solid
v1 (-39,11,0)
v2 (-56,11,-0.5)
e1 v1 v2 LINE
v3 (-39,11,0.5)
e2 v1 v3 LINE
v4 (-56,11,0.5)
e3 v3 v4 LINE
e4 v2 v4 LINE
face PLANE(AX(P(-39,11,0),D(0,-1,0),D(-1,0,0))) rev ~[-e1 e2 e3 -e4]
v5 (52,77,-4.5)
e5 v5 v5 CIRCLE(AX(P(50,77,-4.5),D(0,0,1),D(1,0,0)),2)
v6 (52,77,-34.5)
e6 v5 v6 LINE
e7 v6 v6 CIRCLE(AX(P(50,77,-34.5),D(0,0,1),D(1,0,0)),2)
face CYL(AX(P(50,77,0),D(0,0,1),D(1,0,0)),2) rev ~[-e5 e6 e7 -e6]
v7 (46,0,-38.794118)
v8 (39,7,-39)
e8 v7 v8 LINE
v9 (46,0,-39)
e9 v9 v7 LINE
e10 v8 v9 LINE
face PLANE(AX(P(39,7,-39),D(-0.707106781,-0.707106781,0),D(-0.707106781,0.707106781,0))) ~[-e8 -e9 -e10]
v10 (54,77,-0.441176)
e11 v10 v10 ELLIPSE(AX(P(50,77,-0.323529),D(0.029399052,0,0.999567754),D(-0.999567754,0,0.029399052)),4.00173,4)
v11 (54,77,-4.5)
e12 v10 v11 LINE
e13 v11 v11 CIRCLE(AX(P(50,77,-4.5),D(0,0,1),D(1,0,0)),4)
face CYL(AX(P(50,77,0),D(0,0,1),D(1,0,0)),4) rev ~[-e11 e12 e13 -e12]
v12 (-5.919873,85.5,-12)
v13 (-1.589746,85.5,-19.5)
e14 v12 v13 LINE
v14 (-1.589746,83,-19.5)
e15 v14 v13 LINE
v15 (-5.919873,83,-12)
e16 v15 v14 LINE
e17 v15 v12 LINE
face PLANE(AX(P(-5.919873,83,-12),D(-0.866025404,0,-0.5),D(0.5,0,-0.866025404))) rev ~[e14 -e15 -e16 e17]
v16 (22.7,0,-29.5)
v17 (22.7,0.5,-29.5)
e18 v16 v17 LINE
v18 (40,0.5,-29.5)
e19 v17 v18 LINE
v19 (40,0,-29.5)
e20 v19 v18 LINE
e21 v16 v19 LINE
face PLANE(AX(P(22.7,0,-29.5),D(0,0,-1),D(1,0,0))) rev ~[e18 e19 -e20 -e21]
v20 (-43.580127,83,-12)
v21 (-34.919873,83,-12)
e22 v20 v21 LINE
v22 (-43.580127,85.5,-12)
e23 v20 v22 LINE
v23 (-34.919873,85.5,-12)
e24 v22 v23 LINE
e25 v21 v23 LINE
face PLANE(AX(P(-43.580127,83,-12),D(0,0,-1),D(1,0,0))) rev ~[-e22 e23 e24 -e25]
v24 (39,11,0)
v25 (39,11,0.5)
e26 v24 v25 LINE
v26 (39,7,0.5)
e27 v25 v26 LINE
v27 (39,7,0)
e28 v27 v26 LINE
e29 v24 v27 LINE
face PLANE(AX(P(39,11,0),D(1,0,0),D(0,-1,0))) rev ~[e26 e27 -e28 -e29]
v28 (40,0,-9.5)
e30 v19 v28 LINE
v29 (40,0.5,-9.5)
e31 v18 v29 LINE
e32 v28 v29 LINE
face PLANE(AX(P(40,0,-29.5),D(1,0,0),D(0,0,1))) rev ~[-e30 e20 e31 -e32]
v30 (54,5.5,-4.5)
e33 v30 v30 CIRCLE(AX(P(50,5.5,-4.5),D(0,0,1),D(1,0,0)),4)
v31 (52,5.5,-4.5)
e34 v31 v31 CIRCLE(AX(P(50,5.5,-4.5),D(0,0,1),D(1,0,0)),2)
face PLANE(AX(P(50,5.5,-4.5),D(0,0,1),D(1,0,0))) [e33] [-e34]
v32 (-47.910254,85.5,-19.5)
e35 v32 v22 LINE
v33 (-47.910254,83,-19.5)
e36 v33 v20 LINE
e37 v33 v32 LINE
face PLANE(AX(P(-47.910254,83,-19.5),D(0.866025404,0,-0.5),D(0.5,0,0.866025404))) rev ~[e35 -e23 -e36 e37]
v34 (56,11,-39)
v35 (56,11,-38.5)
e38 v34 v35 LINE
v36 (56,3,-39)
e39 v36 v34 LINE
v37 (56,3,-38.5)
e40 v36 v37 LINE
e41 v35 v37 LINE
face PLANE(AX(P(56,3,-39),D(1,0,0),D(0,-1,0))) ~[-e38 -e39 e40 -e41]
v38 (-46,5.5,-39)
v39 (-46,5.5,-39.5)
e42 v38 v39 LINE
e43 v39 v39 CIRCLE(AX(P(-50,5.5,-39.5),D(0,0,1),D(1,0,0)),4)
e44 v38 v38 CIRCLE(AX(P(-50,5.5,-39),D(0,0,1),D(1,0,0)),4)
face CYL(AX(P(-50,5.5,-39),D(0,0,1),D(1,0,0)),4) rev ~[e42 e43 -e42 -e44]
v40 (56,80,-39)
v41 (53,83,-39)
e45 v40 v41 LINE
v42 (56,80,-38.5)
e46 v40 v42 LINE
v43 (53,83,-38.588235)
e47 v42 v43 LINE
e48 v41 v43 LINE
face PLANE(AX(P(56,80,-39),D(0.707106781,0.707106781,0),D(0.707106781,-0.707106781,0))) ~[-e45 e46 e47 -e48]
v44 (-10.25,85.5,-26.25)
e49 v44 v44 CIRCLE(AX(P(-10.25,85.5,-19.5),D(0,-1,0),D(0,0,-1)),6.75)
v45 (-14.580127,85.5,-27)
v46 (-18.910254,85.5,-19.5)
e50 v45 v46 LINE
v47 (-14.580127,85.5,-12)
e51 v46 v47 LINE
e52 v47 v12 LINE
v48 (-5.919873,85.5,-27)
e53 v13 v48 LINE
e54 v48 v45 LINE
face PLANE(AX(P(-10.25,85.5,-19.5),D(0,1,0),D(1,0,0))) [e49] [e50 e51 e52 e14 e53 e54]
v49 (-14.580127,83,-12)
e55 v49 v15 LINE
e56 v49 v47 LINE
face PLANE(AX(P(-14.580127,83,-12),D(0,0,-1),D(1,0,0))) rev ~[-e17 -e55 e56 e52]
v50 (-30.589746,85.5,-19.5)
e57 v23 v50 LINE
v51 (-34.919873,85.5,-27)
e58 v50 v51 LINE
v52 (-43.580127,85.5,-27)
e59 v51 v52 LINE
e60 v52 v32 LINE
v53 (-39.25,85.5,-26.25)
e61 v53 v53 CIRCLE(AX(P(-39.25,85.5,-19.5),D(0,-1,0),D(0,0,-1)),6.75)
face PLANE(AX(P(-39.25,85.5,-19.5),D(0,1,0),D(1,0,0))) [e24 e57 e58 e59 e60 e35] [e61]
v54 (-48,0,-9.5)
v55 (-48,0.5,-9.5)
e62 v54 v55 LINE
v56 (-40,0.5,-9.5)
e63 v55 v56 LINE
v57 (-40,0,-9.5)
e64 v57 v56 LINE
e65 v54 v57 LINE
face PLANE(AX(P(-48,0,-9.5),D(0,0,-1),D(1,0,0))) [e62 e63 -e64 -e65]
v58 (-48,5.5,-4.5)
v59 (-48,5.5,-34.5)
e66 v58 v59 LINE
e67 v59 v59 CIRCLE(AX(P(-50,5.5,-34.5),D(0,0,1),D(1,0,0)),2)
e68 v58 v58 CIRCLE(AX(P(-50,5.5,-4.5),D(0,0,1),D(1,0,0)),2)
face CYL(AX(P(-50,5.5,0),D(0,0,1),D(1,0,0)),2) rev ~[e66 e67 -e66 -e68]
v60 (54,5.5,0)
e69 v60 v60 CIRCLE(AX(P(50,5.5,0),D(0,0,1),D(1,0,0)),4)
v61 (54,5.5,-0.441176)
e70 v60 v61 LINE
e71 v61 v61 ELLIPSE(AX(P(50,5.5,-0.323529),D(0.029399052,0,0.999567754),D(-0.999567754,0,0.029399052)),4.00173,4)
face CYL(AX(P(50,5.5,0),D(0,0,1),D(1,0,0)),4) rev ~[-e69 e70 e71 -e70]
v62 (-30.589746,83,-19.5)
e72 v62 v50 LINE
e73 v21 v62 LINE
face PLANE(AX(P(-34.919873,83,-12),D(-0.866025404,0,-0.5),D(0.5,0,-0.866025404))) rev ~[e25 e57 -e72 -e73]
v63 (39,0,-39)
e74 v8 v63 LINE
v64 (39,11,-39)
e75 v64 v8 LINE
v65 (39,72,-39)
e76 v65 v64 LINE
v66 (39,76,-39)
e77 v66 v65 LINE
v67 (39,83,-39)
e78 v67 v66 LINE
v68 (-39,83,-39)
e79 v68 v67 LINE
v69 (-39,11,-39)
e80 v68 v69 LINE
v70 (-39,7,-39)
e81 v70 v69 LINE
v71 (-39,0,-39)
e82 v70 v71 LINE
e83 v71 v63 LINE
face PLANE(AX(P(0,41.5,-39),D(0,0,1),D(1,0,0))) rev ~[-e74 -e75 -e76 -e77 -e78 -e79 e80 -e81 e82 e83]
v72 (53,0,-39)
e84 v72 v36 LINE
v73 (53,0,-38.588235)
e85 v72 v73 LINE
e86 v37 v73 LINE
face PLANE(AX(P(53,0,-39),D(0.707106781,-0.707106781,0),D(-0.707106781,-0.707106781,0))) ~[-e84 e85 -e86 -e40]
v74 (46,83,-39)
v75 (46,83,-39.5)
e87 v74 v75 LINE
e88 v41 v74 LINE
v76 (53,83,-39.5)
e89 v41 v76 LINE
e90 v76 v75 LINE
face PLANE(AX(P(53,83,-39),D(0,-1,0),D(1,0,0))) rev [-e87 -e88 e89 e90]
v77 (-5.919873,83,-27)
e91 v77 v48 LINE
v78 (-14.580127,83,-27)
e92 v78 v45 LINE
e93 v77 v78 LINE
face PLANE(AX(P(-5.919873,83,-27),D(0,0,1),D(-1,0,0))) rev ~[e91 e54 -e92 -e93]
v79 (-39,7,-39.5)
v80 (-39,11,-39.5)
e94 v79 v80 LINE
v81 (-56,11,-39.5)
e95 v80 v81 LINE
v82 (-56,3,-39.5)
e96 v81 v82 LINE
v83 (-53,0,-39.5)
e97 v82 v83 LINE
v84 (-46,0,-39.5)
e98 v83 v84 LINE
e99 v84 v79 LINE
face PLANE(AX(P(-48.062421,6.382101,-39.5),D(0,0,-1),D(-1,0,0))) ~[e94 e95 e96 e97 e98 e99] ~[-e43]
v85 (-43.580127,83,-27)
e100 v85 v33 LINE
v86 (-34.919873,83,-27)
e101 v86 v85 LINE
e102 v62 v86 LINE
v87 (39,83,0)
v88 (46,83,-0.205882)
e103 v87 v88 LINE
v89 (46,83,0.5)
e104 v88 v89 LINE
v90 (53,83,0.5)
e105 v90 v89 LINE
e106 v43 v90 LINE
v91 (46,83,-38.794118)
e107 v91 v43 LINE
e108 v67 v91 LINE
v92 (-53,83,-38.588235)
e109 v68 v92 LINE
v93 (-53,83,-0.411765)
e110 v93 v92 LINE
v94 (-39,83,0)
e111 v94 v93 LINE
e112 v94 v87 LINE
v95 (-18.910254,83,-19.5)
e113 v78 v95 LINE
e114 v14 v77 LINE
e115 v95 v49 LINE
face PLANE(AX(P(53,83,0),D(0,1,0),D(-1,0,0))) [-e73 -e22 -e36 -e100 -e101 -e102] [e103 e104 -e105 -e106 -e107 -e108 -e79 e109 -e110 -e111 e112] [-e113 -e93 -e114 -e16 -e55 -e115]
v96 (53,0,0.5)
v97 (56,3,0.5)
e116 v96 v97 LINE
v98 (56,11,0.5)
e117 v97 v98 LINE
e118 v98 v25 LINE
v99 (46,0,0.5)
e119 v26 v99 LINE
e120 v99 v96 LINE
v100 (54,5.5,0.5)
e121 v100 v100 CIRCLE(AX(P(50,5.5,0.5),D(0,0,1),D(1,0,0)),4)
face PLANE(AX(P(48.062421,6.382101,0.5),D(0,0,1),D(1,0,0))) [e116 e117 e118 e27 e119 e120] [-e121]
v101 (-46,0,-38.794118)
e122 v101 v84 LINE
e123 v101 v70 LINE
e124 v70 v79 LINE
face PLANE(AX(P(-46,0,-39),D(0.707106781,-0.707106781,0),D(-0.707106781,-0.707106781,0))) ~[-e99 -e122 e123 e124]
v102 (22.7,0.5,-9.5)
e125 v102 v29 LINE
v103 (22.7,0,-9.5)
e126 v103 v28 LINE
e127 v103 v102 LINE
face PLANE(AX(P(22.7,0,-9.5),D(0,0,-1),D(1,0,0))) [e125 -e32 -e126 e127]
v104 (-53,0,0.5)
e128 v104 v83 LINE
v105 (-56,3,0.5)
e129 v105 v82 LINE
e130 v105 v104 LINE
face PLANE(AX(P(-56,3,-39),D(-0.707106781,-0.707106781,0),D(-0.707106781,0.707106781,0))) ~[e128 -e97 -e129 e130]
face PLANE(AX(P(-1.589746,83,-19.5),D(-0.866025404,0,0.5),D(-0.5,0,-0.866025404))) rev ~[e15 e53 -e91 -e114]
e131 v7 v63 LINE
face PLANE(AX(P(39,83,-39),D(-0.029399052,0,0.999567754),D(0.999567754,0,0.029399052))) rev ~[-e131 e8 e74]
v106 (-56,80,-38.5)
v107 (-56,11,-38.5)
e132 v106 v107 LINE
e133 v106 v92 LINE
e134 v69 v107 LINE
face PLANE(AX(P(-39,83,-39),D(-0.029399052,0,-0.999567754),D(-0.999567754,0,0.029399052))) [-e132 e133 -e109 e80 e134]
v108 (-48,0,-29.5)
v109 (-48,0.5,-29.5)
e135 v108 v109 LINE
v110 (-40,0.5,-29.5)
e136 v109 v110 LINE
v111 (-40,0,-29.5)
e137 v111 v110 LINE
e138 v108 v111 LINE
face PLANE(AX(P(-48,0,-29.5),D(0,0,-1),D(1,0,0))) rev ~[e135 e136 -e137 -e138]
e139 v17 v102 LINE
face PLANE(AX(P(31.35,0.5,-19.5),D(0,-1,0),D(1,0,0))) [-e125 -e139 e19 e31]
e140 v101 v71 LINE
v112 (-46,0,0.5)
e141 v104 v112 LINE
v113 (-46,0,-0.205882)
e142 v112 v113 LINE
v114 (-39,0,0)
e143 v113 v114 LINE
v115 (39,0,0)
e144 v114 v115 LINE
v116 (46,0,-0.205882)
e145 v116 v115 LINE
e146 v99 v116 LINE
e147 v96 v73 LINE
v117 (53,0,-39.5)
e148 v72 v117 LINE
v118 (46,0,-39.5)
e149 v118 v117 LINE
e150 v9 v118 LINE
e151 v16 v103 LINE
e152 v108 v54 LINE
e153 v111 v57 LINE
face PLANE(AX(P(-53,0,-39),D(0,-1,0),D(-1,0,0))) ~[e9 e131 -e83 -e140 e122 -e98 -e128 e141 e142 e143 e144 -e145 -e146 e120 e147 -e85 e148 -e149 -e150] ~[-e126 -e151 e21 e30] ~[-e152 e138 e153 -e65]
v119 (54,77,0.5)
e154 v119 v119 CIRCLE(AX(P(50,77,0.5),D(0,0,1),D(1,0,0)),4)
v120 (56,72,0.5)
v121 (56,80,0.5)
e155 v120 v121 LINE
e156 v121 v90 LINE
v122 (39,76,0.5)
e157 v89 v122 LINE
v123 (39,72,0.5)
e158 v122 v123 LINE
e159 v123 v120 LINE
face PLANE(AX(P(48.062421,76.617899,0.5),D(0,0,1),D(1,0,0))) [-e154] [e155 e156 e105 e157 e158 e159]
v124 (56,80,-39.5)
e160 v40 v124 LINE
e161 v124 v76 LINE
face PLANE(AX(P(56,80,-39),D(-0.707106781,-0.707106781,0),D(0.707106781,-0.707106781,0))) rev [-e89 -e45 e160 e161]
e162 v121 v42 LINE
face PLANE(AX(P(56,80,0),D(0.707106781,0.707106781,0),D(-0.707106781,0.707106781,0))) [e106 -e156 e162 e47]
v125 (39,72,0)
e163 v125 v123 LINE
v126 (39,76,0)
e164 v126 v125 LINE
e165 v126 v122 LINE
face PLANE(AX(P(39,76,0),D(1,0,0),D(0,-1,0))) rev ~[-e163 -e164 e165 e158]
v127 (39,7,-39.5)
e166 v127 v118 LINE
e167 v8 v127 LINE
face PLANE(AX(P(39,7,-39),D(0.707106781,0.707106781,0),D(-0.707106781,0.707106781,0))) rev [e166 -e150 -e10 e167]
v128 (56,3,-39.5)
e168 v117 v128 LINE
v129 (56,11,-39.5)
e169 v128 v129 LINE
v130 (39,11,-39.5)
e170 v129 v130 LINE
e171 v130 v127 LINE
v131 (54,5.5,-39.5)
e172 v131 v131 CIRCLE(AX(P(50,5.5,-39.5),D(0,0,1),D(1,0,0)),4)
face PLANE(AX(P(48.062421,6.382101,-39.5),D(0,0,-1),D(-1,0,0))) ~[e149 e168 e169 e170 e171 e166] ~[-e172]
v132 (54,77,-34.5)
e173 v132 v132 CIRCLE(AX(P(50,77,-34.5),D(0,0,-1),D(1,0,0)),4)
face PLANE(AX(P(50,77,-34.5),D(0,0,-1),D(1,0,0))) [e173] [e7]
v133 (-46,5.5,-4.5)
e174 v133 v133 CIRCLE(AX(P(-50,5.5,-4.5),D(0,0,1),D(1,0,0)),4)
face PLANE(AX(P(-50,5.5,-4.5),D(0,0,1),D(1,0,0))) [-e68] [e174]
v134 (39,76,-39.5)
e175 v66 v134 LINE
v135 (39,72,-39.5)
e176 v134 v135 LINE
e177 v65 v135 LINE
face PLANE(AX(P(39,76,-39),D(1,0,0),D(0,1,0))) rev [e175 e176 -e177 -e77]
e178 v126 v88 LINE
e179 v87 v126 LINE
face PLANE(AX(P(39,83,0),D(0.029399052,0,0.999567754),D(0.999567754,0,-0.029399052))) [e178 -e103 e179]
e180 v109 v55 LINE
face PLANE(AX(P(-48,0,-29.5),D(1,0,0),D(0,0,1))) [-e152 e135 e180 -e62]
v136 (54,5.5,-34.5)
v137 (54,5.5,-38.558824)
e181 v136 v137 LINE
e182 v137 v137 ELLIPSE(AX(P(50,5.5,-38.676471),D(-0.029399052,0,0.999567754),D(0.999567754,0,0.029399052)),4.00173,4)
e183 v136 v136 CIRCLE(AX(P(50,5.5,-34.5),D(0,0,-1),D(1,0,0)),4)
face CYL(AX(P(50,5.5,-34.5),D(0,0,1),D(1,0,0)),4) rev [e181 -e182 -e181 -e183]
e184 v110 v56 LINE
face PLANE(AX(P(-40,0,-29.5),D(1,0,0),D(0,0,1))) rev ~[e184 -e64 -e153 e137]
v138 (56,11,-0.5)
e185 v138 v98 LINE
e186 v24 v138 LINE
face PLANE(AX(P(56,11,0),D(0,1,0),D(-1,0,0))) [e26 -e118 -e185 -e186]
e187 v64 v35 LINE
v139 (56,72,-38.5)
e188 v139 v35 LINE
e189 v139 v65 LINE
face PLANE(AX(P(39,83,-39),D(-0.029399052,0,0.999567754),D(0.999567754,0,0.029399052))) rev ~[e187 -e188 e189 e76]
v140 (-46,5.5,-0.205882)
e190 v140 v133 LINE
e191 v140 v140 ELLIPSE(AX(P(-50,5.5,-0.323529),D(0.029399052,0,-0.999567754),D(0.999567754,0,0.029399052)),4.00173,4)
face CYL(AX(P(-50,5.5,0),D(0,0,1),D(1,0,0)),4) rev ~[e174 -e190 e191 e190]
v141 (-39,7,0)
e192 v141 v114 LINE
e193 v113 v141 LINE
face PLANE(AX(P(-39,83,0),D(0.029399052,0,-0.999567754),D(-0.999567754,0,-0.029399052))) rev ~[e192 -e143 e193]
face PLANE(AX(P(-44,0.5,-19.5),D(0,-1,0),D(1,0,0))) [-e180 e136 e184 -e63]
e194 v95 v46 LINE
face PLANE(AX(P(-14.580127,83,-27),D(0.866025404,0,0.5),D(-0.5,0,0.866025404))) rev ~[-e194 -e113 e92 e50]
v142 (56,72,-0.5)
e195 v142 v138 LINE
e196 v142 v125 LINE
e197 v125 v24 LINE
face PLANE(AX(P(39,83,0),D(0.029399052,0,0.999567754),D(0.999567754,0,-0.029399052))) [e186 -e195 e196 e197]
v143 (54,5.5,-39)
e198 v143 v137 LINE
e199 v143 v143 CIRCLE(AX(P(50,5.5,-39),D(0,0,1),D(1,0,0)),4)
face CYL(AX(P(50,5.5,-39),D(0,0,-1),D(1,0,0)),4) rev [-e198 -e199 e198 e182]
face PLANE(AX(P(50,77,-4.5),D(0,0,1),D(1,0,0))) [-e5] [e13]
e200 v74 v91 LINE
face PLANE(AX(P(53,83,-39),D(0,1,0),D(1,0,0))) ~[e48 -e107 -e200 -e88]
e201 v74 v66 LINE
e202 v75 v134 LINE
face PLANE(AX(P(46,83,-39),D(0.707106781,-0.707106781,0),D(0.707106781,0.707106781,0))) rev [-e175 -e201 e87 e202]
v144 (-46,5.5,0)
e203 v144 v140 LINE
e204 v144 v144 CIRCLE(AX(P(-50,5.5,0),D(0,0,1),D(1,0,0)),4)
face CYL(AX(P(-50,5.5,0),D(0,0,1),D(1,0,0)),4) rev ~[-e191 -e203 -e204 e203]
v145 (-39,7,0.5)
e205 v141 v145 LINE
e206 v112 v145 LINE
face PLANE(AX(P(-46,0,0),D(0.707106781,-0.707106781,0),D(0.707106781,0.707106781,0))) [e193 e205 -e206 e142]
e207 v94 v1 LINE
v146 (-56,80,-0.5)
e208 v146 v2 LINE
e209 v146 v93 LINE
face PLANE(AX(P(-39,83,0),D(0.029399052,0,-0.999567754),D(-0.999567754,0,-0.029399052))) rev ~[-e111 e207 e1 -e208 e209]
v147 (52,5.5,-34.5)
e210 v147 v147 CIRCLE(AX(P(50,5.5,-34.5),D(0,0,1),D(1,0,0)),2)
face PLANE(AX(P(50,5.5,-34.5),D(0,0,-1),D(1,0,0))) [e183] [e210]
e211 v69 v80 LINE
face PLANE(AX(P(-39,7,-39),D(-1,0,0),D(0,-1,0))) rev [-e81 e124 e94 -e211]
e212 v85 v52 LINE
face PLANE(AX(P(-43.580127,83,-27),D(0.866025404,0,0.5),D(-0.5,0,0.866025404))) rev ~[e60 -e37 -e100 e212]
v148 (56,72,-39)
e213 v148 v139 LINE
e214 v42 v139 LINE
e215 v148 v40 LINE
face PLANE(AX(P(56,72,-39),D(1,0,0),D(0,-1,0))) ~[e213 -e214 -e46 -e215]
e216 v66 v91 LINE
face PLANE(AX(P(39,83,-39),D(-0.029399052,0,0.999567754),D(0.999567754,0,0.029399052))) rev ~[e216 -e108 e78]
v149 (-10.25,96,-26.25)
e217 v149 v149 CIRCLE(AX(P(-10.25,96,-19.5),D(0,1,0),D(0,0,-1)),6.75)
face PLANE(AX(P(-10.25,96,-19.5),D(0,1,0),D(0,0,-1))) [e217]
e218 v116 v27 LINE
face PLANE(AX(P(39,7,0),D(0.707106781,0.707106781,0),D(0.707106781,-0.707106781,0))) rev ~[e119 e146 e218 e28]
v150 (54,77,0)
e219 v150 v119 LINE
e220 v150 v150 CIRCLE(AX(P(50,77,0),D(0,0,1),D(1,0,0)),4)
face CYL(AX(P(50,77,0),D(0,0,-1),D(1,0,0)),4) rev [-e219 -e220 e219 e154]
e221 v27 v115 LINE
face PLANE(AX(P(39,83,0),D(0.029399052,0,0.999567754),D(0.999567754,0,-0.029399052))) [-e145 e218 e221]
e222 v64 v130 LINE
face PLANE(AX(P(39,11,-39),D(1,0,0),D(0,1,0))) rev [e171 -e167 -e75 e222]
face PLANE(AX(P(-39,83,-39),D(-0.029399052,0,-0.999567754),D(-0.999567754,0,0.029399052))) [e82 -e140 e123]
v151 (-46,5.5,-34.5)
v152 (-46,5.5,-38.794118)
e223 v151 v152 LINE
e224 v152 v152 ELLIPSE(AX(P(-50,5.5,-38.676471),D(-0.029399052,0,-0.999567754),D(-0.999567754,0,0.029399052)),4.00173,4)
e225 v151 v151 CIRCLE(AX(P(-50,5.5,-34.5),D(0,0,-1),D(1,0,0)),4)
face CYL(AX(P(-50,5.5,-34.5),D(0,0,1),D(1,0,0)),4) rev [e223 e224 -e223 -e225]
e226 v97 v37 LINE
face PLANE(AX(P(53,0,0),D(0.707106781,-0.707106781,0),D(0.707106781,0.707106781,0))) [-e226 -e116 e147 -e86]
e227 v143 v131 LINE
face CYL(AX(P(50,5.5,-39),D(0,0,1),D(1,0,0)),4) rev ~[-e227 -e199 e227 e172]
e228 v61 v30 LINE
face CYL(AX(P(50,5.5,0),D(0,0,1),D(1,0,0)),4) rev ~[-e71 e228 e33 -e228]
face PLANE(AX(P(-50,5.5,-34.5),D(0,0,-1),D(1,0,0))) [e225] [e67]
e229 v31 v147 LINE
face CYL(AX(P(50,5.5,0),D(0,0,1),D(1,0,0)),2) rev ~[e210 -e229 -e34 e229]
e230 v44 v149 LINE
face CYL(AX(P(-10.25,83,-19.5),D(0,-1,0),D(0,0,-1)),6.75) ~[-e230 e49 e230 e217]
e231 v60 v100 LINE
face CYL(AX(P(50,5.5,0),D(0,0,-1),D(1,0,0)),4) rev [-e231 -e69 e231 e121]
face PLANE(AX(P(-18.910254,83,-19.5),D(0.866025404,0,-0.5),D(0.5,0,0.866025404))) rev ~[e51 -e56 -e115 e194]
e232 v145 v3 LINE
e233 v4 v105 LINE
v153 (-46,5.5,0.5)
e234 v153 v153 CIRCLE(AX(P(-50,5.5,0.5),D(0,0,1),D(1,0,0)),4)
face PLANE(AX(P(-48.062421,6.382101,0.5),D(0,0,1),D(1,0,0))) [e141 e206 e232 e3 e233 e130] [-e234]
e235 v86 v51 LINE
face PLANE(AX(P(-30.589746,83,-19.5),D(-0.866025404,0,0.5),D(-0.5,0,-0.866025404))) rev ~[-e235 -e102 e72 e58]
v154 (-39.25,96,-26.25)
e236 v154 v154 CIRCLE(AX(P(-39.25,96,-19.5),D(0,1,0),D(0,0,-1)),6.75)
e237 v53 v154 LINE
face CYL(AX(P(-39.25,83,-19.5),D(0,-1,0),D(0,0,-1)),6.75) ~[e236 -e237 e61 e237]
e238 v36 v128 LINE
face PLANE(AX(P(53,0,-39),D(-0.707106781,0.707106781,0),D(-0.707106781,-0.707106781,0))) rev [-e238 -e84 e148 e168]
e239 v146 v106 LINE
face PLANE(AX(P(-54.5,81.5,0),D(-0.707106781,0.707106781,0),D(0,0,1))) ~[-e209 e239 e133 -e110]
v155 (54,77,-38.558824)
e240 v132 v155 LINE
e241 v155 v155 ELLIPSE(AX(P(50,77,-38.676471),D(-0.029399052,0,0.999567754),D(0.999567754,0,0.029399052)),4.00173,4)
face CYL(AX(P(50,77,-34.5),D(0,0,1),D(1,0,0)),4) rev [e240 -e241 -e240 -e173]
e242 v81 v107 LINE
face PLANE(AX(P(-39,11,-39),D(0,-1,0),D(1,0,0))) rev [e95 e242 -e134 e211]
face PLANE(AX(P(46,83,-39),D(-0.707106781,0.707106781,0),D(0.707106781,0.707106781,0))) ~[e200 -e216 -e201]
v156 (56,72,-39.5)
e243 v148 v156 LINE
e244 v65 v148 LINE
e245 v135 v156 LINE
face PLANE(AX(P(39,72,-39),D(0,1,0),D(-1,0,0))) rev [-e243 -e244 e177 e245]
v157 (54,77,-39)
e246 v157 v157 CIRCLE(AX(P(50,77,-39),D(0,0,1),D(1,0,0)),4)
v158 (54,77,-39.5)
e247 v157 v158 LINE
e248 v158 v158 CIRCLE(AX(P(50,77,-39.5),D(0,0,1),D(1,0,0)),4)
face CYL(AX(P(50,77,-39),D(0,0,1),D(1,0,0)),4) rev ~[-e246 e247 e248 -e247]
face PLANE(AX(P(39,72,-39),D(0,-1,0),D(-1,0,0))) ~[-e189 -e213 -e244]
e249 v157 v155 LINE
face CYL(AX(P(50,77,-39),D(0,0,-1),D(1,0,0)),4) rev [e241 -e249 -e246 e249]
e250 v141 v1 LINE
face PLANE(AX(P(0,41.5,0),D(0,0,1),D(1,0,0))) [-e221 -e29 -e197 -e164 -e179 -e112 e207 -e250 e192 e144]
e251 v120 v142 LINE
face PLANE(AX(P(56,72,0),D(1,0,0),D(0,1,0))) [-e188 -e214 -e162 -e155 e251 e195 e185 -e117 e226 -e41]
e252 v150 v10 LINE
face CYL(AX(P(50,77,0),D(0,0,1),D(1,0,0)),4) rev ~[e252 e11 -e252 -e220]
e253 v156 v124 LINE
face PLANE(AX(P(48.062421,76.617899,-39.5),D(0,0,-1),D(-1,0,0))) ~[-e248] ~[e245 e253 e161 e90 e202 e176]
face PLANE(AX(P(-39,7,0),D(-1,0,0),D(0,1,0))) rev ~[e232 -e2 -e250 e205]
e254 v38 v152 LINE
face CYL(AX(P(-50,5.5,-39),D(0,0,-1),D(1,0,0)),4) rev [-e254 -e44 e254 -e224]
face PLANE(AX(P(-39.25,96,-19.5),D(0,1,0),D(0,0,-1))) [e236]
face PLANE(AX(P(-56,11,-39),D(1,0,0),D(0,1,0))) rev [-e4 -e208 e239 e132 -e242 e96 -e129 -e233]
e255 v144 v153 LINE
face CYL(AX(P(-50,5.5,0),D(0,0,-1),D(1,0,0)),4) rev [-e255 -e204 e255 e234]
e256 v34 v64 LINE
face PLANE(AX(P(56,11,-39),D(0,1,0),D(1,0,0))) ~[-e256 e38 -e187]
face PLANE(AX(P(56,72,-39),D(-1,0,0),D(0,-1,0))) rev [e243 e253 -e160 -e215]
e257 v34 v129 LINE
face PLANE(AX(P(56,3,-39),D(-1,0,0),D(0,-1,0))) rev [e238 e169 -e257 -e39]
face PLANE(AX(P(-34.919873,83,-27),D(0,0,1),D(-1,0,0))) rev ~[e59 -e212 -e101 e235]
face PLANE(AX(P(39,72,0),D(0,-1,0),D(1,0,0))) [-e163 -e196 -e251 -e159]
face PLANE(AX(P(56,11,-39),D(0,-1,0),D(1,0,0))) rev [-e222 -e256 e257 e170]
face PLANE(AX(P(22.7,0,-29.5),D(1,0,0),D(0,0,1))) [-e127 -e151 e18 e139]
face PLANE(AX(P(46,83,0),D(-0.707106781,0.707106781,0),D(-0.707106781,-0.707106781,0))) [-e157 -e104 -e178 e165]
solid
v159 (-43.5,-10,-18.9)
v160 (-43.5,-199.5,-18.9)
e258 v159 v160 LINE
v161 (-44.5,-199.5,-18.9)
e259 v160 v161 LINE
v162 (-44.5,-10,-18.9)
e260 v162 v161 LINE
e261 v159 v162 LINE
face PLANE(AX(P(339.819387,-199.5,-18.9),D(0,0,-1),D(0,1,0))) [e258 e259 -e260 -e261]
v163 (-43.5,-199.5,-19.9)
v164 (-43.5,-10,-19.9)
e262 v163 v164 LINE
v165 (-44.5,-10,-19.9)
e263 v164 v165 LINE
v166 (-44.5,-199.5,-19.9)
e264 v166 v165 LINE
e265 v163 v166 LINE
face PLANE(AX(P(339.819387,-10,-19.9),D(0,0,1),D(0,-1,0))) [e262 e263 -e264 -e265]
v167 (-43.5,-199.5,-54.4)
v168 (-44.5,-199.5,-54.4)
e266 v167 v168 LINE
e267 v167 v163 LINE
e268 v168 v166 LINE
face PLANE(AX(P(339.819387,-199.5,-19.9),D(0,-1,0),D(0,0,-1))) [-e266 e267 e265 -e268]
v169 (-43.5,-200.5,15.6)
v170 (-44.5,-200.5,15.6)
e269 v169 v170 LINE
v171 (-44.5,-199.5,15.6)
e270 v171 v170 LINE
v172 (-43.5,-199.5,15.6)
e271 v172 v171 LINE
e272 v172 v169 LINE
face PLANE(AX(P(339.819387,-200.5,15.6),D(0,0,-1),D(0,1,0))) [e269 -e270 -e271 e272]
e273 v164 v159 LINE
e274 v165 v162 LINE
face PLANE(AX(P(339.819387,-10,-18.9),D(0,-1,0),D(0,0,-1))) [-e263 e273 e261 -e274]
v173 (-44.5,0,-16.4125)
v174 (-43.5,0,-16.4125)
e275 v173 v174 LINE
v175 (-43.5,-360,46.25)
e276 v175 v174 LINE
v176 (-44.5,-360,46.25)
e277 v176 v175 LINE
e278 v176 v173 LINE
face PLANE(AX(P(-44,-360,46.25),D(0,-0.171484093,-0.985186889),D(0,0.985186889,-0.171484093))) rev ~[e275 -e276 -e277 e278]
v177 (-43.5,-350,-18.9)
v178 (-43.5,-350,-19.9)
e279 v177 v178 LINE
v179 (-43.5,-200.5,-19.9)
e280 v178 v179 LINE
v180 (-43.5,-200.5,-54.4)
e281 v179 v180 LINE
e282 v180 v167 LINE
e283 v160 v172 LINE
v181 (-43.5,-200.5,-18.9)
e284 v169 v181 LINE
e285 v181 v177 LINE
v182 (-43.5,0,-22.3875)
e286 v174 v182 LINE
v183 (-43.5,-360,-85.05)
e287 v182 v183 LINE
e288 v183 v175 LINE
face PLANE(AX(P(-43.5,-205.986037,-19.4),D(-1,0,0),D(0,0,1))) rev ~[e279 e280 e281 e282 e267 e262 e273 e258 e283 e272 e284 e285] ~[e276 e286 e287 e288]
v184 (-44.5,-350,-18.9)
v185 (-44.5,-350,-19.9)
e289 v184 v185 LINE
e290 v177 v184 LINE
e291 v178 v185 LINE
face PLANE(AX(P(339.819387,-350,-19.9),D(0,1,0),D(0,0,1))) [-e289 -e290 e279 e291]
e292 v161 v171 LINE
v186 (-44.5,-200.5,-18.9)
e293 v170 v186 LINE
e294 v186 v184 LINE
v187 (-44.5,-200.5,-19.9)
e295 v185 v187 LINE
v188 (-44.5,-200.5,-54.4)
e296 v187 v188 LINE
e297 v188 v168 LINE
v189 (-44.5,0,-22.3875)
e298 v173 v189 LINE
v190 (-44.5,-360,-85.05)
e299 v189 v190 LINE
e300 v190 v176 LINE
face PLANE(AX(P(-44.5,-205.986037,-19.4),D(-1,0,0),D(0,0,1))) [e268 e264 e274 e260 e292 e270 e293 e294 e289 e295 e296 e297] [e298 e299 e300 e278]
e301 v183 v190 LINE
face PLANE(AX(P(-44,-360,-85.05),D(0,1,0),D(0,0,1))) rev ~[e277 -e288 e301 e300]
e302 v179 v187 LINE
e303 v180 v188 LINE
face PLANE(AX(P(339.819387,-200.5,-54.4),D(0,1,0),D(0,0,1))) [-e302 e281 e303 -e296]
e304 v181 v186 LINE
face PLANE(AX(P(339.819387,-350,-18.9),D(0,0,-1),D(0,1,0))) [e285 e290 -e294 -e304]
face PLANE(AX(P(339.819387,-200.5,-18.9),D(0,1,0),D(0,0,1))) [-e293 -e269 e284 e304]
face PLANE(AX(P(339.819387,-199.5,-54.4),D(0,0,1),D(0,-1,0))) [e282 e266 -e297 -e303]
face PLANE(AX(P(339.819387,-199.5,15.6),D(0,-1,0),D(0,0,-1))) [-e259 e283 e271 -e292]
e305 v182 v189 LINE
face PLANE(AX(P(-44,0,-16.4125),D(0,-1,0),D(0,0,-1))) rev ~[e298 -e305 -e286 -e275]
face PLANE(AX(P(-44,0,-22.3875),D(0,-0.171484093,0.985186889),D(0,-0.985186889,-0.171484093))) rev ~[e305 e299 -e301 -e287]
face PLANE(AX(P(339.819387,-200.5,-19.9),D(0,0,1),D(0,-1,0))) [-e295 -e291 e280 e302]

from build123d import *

# Parameters (mm, degrees)
SKICA1_W                            = 112
SKICA1_H                            = 83
P_IDAT_VYSUNUT_M1_DEPTH             = 39
SKICA2_R                            = 2
ODEBRAT_VYSUNUT_M1_DEPTH            = 108.452315005
SKICA3_R                            = 4
ODEBRAT_VYSUNUT_M2_DEPTH            = 4.5
ODEBRAT_START                       = -4.5
SKICA4_R                            = 4
ODEBRAT_VYSUNUT_M3_DEPTH            = 4.5
ZKOSEN_1_SIZE                       = 3
SKICA5_R                            = 6.75
P_IDAT_VYSUNUT_M2_DEPTH             = 13
P_IDAT_VYSUNUT_M3_DEPTH             = 2.5
SKICA7_W                            = 17.3
SKICA7_H                            = 20
SKICA7_W_2                          = 8
ODEBRAT_VYSUNUT_M4_DEPTH            = 0.5
ODEBRAT_VYSUNUT_M5_DEPTH            = 108.452315005
SKICA10_R                           = 4
P_IDAT_VYSUNUT_M4_DEPTH             = 0.5
P_IDAT_VYSUNUT_M4_DIRECTION_2_REACH = 119.784
P_IDAT_VYSUNUT_M5_DEPTH             = 0.5
ODEBRAT_VYSUNUT_M6_DEPTH            = 384.319387065
ODEBRAT_VYSUNUT_M6_DEPTH_BACK       = 384.319387065


with BuildPart() as part:
    # Skica1 → Přidat vysunutím1 (new body)
    with BuildSketch(Plane.XY):
        with Locations((0, 41.5)):
            Rectangle(SKICA1_W, SKICA1_H)
    extrude(amount=-P_IDAT_VYSUNUT_M1_DEPTH)

    # Skica2 → Odebrat vysunutím1 (cut, through all)
    with BuildSketch(Plane.XY):
        with Locations((50, 77)):
            Circle(SKICA2_R)
        with Locations((-50, 5.5)):
            Circle(SKICA2_R)
        with Locations((50, 5.5)):
            Circle(SKICA2_R)
    extrude(amount=-ODEBRAT_VYSUNUT_M1_DEPTH, mode=Mode.SUBTRACT)

    # Skica3 → Odebrat vysunutím2 (cut)
    with BuildSketch(Plane.XY):
        with Locations((50, 77)):
            Circle(SKICA3_R)
        with Locations((50, 5.5)):
            Circle(SKICA3_R)
        with Locations((-50, 5.5)):
            Circle(SKICA3_R)
    extrude(amount=-ODEBRAT_VYSUNUT_M2_DEPTH, mode=Mode.SUBTRACT)

    # Skica4 → Odebrat vysunutím3 (cut)
    with BuildSketch(Plane(origin=(0, 0, -39), x_dir=(-1, 0, 0), z_dir=(0, 0, -1)).offset(ODEBRAT_START)):
        with Locations(Location((-50, 77, 0), (0, 0, 180))):
            Circle(SKICA4_R)
        with Locations(Location((-50, 5.5, 0), (0, 0, 180))):
            Circle(SKICA4_R)
        with Locations(Location((50, 5.5, 0), (0, 0, 180))):
            Circle(SKICA4_R)
    extrude(amount=ODEBRAT_VYSUNUT_M3_DEPTH, mode=Mode.SUBTRACT)

    # Zkosení1
    zkosen_1_edges = [part.edges().sort_by_distance(p)[0] for p in [
        (-56, 83, -19.5),
        (56, 83, -19.5),
        (56, 0, -19.5),
        (-56, 0, -19.5),
    ]]
    chamfer(zkosen_1_edges, length=ZKOSEN_1_SIZE)

    # Skica5 → Přidat vysunutím2 (add)
    with BuildSketch(Plane(origin=(0, 83, 0), x_dir=(1, 0, 0), z_dir=(0, 1, 0))):
        with Locations(Location((-39.25, 19.5, 0), (0, 0, 90))):
            Circle(SKICA5_R)
        with Locations(Location((-10.25, 19.5, 0), (0, 0, 90))):
            Circle(SKICA5_R)
    extrude(amount=P_IDAT_VYSUNUT_M2_DEPTH)

    # Skica6 → Přidat vysunutím3 (add)
    with BuildSketch(Plane(origin=(0, 83, 0), x_dir=(1, 0, 0), z_dir=(0, 1, 0))):
        Polygon((-34.919872981, 27), (-43.580127019, 27), (-47.910254038, 19.5), (-43.580127019, 12), (-34.919872981, 12), (-30.589745962, 19.5), align=None)
        Polygon((-5.919872981, 27), (-14.580127019, 27), (-18.910254038, 19.5), (-14.580127019, 12), (-5.919872981, 12), (-1.589745962, 19.5), align=None)
    extrude(amount=P_IDAT_VYSUNUT_M3_DEPTH)

    # Skica7 → Odebrat vysunutím4 (cut)
    with BuildSketch(Plane.XZ):
        with Locations((31.35, -19.5)):
            Rectangle(SKICA7_W, SKICA7_H)
        with Locations((-44, -19.5)):
            Rectangle(SKICA7_W_2, SKICA7_H)
    extrude(amount=-ODEBRAT_VYSUNUT_M4_DEPTH, mode=Mode.SUBTRACT)

    # Skica8 → Odebrat vysunutím5 (cut, through all)
    with BuildSketch(Plane(origin=(0, 83, 0), x_dir=(1, 0, 0), z_dir=(0, 1, 0))):
        Polygon((-39, 39), (-56, 38.5), (-56, 39), align=None)
        Polygon((-56, 0), (-39, 0), (-56, 0.5), align=None)
        Polygon((39, 0), (56, 0.5), (56, 0), align=None)
        Polygon((56, 39), (39, 39), (56, 38.5), align=None)
    extrude(amount=-ODEBRAT_VYSUNUT_M5_DEPTH, mode=Mode.SUBTRACT)

    # Skica10 → Přidat vysunutím4 (add)
    # profile 1 of 3: a face of its own
    with BuildSketch(Plane.XY):
        Polygon((-46, 0), (-39, 7), (-39, 11), (-56, 11), (-56, 3), (-53, 0), align=None)
        with Locations((-50, 5.5)):
            Circle(SKICA10_R, mode=Mode.SUBTRACT)
    # profile 2 of 3: a face of its own
    with BuildSketch(Plane.XY):
        Polygon((56, 3), (56, 11), (39, 11), (39, 7), (46, 0), (53, 0), align=None)
        with Locations((50, 5.5)):
            Circle(SKICA10_R, mode=Mode.SUBTRACT)
    # profile 3 of 3: a face of its own
    with BuildSketch(Plane.XY):
        Polygon((56, 80), (53, 83), (46, 83), (39, 76), (39, 72), (56, 72), align=None)
        with Locations((50, 77)):
            Circle(SKICA10_R, mode=Mode.SUBTRACT)
    p_idat_vysunut_m4 = extrude(amount=P_IDAT_VYSUNUT_M4_DEPTH)

    # Skica10 → Přidat vysunutím4 direction 2 (add, up to next)
    with BuildSketch(Plane.XY, mode=Mode.PRIVATE) as p_idat_vysunut_m4_direction_2_sk1:
        Polygon((-46, 0), (-39, 7), (-39, 11), (-56, 11), (-56, 3), (-53, 0), align=None)
        with Locations((-50, 5.5)):
            Circle(SKICA10_R, mode=Mode.SUBTRACT)
    p_idat_vysunut_m4_direction_2_tool1 = extrude(p_idat_vysunut_m4_direction_2_sk1.sketch, amount=-P_IDAT_VYSUNUT_M4_DIRECTION_2_REACH, mode=Mode.PRIVATE) - part.part
    # Skica10 → Přidat vysunutím4 direction 2 (add, up to next)
    with BuildSketch(Plane.XY, mode=Mode.PRIVATE) as p_idat_vysunut_m4_direction_2_sk2:
        Polygon((56, 3), (56, 11), (39, 11), (39, 7), (46, 0), (53, 0), align=None)
        with Locations((50, 5.5)):
            Circle(SKICA10_R, mode=Mode.SUBTRACT)
    p_idat_vysunut_m4_direction_2_tool2 = extrude(p_idat_vysunut_m4_direction_2_sk2.sketch, amount=-P_IDAT_VYSUNUT_M4_DIRECTION_2_REACH, mode=Mode.PRIVATE) - part.part
    # Skica10 → Přidat vysunutím4 direction 2 (add, up to next)
    with BuildSketch(Plane.XY, mode=Mode.PRIVATE) as p_idat_vysunut_m4_direction_2_sk3:
        Polygon((56, 80), (53, 83), (46, 83), (39, 76), (39, 72), (56, 72), align=None)
        with Locations((50, 77)):
            Circle(SKICA10_R, mode=Mode.SUBTRACT)
    p_idat_vysunut_m4_direction_2_tool3 = extrude(p_idat_vysunut_m4_direction_2_sk3.sketch, amount=-P_IDAT_VYSUNUT_M4_DIRECTION_2_REACH, mode=Mode.PRIVATE) - part.part
    p_idat_vysunut_m4_direction_2_1 = p_idat_vysunut_m4_direction_2_tool1.solids().sort_by_distance((-49.5, 0.202485, 0))[0]
    add(p_idat_vysunut_m4_direction_2_1)
    p_idat_vysunut_m4_direction_2_2 = p_idat_vysunut_m4_direction_2_tool2.solids().sort_by_distance((55.797515, 7, 0))[0]
    add(p_idat_vysunut_m4_direction_2_2)
    p_idat_vysunut_m4_direction_2_3 = p_idat_vysunut_m4_direction_2_tool3.solids().sort_by_distance((54.356822, 81.356822, 0))[0]
    add(p_idat_vysunut_m4_direction_2_3)
    p_idat_vysunut_m4_direction_2 = p_idat_vysunut_m4_direction_2_1 + p_idat_vysunut_m4_direction_2_2 + p_idat_vysunut_m4_direction_2_3  # Přidat vysunutím4 direction 2 as one shape, for the pattern or mirror that repeats it

    # Zrcadlit1: Přidat vysunutím4, Přidat vysunutím4 direction 2 across plane
    add(p_idat_vysunut_m4.mirror(Plane.XY.offset(-19.5)))
    add(p_idat_vysunut_m4_direction_2.mirror(Plane.XY.offset(-19.5)))


with BuildPart() as body_2:
    # Skica11 → Přidat vysunutím5 (new, symmetric)
    with BuildSketch(Plane(origin=(-44, 0, -44), x_dir=(0, 0, -1), z_dir=(1, 0, 0))):
        Polygon((-27.5875, 0), (-21.6125, 0), (41.05, -360), (-90.25, -360), align=None)
    extrude(amount=P_IDAT_VYSUNUT_M5_DEPTH, both=True)

    # Skica12 → Odebrat vysunutím6 (cut, two sides: drawn at the far end of the back side and taken through both)
    with BuildSketch(Plane.ZY.offset(44.5).offset(-ODEBRAT_VYSUNUT_M6_DEPTH_BACK)):
        Polygon((-54.4, -200.5), (-19.9, -200.5), (-19.9, -350), (-18.9, -350), (-18.9, -200.5), (15.6, -200.5), (15.6, -199.5), (-18.9, -199.5), (-18.9, -10), (-19.9, -10), (-19.9, -199.5), (-54.4, -199.5), align=None)
    extrude(amount=ODEBRAT_VYSUNUT_M6_DEPTH + ODEBRAT_VYSUNUT_M6_DEPTH_BACK, mode=Mode.SUBTRACT)


solid = Compound([part.part, body_2.part])
